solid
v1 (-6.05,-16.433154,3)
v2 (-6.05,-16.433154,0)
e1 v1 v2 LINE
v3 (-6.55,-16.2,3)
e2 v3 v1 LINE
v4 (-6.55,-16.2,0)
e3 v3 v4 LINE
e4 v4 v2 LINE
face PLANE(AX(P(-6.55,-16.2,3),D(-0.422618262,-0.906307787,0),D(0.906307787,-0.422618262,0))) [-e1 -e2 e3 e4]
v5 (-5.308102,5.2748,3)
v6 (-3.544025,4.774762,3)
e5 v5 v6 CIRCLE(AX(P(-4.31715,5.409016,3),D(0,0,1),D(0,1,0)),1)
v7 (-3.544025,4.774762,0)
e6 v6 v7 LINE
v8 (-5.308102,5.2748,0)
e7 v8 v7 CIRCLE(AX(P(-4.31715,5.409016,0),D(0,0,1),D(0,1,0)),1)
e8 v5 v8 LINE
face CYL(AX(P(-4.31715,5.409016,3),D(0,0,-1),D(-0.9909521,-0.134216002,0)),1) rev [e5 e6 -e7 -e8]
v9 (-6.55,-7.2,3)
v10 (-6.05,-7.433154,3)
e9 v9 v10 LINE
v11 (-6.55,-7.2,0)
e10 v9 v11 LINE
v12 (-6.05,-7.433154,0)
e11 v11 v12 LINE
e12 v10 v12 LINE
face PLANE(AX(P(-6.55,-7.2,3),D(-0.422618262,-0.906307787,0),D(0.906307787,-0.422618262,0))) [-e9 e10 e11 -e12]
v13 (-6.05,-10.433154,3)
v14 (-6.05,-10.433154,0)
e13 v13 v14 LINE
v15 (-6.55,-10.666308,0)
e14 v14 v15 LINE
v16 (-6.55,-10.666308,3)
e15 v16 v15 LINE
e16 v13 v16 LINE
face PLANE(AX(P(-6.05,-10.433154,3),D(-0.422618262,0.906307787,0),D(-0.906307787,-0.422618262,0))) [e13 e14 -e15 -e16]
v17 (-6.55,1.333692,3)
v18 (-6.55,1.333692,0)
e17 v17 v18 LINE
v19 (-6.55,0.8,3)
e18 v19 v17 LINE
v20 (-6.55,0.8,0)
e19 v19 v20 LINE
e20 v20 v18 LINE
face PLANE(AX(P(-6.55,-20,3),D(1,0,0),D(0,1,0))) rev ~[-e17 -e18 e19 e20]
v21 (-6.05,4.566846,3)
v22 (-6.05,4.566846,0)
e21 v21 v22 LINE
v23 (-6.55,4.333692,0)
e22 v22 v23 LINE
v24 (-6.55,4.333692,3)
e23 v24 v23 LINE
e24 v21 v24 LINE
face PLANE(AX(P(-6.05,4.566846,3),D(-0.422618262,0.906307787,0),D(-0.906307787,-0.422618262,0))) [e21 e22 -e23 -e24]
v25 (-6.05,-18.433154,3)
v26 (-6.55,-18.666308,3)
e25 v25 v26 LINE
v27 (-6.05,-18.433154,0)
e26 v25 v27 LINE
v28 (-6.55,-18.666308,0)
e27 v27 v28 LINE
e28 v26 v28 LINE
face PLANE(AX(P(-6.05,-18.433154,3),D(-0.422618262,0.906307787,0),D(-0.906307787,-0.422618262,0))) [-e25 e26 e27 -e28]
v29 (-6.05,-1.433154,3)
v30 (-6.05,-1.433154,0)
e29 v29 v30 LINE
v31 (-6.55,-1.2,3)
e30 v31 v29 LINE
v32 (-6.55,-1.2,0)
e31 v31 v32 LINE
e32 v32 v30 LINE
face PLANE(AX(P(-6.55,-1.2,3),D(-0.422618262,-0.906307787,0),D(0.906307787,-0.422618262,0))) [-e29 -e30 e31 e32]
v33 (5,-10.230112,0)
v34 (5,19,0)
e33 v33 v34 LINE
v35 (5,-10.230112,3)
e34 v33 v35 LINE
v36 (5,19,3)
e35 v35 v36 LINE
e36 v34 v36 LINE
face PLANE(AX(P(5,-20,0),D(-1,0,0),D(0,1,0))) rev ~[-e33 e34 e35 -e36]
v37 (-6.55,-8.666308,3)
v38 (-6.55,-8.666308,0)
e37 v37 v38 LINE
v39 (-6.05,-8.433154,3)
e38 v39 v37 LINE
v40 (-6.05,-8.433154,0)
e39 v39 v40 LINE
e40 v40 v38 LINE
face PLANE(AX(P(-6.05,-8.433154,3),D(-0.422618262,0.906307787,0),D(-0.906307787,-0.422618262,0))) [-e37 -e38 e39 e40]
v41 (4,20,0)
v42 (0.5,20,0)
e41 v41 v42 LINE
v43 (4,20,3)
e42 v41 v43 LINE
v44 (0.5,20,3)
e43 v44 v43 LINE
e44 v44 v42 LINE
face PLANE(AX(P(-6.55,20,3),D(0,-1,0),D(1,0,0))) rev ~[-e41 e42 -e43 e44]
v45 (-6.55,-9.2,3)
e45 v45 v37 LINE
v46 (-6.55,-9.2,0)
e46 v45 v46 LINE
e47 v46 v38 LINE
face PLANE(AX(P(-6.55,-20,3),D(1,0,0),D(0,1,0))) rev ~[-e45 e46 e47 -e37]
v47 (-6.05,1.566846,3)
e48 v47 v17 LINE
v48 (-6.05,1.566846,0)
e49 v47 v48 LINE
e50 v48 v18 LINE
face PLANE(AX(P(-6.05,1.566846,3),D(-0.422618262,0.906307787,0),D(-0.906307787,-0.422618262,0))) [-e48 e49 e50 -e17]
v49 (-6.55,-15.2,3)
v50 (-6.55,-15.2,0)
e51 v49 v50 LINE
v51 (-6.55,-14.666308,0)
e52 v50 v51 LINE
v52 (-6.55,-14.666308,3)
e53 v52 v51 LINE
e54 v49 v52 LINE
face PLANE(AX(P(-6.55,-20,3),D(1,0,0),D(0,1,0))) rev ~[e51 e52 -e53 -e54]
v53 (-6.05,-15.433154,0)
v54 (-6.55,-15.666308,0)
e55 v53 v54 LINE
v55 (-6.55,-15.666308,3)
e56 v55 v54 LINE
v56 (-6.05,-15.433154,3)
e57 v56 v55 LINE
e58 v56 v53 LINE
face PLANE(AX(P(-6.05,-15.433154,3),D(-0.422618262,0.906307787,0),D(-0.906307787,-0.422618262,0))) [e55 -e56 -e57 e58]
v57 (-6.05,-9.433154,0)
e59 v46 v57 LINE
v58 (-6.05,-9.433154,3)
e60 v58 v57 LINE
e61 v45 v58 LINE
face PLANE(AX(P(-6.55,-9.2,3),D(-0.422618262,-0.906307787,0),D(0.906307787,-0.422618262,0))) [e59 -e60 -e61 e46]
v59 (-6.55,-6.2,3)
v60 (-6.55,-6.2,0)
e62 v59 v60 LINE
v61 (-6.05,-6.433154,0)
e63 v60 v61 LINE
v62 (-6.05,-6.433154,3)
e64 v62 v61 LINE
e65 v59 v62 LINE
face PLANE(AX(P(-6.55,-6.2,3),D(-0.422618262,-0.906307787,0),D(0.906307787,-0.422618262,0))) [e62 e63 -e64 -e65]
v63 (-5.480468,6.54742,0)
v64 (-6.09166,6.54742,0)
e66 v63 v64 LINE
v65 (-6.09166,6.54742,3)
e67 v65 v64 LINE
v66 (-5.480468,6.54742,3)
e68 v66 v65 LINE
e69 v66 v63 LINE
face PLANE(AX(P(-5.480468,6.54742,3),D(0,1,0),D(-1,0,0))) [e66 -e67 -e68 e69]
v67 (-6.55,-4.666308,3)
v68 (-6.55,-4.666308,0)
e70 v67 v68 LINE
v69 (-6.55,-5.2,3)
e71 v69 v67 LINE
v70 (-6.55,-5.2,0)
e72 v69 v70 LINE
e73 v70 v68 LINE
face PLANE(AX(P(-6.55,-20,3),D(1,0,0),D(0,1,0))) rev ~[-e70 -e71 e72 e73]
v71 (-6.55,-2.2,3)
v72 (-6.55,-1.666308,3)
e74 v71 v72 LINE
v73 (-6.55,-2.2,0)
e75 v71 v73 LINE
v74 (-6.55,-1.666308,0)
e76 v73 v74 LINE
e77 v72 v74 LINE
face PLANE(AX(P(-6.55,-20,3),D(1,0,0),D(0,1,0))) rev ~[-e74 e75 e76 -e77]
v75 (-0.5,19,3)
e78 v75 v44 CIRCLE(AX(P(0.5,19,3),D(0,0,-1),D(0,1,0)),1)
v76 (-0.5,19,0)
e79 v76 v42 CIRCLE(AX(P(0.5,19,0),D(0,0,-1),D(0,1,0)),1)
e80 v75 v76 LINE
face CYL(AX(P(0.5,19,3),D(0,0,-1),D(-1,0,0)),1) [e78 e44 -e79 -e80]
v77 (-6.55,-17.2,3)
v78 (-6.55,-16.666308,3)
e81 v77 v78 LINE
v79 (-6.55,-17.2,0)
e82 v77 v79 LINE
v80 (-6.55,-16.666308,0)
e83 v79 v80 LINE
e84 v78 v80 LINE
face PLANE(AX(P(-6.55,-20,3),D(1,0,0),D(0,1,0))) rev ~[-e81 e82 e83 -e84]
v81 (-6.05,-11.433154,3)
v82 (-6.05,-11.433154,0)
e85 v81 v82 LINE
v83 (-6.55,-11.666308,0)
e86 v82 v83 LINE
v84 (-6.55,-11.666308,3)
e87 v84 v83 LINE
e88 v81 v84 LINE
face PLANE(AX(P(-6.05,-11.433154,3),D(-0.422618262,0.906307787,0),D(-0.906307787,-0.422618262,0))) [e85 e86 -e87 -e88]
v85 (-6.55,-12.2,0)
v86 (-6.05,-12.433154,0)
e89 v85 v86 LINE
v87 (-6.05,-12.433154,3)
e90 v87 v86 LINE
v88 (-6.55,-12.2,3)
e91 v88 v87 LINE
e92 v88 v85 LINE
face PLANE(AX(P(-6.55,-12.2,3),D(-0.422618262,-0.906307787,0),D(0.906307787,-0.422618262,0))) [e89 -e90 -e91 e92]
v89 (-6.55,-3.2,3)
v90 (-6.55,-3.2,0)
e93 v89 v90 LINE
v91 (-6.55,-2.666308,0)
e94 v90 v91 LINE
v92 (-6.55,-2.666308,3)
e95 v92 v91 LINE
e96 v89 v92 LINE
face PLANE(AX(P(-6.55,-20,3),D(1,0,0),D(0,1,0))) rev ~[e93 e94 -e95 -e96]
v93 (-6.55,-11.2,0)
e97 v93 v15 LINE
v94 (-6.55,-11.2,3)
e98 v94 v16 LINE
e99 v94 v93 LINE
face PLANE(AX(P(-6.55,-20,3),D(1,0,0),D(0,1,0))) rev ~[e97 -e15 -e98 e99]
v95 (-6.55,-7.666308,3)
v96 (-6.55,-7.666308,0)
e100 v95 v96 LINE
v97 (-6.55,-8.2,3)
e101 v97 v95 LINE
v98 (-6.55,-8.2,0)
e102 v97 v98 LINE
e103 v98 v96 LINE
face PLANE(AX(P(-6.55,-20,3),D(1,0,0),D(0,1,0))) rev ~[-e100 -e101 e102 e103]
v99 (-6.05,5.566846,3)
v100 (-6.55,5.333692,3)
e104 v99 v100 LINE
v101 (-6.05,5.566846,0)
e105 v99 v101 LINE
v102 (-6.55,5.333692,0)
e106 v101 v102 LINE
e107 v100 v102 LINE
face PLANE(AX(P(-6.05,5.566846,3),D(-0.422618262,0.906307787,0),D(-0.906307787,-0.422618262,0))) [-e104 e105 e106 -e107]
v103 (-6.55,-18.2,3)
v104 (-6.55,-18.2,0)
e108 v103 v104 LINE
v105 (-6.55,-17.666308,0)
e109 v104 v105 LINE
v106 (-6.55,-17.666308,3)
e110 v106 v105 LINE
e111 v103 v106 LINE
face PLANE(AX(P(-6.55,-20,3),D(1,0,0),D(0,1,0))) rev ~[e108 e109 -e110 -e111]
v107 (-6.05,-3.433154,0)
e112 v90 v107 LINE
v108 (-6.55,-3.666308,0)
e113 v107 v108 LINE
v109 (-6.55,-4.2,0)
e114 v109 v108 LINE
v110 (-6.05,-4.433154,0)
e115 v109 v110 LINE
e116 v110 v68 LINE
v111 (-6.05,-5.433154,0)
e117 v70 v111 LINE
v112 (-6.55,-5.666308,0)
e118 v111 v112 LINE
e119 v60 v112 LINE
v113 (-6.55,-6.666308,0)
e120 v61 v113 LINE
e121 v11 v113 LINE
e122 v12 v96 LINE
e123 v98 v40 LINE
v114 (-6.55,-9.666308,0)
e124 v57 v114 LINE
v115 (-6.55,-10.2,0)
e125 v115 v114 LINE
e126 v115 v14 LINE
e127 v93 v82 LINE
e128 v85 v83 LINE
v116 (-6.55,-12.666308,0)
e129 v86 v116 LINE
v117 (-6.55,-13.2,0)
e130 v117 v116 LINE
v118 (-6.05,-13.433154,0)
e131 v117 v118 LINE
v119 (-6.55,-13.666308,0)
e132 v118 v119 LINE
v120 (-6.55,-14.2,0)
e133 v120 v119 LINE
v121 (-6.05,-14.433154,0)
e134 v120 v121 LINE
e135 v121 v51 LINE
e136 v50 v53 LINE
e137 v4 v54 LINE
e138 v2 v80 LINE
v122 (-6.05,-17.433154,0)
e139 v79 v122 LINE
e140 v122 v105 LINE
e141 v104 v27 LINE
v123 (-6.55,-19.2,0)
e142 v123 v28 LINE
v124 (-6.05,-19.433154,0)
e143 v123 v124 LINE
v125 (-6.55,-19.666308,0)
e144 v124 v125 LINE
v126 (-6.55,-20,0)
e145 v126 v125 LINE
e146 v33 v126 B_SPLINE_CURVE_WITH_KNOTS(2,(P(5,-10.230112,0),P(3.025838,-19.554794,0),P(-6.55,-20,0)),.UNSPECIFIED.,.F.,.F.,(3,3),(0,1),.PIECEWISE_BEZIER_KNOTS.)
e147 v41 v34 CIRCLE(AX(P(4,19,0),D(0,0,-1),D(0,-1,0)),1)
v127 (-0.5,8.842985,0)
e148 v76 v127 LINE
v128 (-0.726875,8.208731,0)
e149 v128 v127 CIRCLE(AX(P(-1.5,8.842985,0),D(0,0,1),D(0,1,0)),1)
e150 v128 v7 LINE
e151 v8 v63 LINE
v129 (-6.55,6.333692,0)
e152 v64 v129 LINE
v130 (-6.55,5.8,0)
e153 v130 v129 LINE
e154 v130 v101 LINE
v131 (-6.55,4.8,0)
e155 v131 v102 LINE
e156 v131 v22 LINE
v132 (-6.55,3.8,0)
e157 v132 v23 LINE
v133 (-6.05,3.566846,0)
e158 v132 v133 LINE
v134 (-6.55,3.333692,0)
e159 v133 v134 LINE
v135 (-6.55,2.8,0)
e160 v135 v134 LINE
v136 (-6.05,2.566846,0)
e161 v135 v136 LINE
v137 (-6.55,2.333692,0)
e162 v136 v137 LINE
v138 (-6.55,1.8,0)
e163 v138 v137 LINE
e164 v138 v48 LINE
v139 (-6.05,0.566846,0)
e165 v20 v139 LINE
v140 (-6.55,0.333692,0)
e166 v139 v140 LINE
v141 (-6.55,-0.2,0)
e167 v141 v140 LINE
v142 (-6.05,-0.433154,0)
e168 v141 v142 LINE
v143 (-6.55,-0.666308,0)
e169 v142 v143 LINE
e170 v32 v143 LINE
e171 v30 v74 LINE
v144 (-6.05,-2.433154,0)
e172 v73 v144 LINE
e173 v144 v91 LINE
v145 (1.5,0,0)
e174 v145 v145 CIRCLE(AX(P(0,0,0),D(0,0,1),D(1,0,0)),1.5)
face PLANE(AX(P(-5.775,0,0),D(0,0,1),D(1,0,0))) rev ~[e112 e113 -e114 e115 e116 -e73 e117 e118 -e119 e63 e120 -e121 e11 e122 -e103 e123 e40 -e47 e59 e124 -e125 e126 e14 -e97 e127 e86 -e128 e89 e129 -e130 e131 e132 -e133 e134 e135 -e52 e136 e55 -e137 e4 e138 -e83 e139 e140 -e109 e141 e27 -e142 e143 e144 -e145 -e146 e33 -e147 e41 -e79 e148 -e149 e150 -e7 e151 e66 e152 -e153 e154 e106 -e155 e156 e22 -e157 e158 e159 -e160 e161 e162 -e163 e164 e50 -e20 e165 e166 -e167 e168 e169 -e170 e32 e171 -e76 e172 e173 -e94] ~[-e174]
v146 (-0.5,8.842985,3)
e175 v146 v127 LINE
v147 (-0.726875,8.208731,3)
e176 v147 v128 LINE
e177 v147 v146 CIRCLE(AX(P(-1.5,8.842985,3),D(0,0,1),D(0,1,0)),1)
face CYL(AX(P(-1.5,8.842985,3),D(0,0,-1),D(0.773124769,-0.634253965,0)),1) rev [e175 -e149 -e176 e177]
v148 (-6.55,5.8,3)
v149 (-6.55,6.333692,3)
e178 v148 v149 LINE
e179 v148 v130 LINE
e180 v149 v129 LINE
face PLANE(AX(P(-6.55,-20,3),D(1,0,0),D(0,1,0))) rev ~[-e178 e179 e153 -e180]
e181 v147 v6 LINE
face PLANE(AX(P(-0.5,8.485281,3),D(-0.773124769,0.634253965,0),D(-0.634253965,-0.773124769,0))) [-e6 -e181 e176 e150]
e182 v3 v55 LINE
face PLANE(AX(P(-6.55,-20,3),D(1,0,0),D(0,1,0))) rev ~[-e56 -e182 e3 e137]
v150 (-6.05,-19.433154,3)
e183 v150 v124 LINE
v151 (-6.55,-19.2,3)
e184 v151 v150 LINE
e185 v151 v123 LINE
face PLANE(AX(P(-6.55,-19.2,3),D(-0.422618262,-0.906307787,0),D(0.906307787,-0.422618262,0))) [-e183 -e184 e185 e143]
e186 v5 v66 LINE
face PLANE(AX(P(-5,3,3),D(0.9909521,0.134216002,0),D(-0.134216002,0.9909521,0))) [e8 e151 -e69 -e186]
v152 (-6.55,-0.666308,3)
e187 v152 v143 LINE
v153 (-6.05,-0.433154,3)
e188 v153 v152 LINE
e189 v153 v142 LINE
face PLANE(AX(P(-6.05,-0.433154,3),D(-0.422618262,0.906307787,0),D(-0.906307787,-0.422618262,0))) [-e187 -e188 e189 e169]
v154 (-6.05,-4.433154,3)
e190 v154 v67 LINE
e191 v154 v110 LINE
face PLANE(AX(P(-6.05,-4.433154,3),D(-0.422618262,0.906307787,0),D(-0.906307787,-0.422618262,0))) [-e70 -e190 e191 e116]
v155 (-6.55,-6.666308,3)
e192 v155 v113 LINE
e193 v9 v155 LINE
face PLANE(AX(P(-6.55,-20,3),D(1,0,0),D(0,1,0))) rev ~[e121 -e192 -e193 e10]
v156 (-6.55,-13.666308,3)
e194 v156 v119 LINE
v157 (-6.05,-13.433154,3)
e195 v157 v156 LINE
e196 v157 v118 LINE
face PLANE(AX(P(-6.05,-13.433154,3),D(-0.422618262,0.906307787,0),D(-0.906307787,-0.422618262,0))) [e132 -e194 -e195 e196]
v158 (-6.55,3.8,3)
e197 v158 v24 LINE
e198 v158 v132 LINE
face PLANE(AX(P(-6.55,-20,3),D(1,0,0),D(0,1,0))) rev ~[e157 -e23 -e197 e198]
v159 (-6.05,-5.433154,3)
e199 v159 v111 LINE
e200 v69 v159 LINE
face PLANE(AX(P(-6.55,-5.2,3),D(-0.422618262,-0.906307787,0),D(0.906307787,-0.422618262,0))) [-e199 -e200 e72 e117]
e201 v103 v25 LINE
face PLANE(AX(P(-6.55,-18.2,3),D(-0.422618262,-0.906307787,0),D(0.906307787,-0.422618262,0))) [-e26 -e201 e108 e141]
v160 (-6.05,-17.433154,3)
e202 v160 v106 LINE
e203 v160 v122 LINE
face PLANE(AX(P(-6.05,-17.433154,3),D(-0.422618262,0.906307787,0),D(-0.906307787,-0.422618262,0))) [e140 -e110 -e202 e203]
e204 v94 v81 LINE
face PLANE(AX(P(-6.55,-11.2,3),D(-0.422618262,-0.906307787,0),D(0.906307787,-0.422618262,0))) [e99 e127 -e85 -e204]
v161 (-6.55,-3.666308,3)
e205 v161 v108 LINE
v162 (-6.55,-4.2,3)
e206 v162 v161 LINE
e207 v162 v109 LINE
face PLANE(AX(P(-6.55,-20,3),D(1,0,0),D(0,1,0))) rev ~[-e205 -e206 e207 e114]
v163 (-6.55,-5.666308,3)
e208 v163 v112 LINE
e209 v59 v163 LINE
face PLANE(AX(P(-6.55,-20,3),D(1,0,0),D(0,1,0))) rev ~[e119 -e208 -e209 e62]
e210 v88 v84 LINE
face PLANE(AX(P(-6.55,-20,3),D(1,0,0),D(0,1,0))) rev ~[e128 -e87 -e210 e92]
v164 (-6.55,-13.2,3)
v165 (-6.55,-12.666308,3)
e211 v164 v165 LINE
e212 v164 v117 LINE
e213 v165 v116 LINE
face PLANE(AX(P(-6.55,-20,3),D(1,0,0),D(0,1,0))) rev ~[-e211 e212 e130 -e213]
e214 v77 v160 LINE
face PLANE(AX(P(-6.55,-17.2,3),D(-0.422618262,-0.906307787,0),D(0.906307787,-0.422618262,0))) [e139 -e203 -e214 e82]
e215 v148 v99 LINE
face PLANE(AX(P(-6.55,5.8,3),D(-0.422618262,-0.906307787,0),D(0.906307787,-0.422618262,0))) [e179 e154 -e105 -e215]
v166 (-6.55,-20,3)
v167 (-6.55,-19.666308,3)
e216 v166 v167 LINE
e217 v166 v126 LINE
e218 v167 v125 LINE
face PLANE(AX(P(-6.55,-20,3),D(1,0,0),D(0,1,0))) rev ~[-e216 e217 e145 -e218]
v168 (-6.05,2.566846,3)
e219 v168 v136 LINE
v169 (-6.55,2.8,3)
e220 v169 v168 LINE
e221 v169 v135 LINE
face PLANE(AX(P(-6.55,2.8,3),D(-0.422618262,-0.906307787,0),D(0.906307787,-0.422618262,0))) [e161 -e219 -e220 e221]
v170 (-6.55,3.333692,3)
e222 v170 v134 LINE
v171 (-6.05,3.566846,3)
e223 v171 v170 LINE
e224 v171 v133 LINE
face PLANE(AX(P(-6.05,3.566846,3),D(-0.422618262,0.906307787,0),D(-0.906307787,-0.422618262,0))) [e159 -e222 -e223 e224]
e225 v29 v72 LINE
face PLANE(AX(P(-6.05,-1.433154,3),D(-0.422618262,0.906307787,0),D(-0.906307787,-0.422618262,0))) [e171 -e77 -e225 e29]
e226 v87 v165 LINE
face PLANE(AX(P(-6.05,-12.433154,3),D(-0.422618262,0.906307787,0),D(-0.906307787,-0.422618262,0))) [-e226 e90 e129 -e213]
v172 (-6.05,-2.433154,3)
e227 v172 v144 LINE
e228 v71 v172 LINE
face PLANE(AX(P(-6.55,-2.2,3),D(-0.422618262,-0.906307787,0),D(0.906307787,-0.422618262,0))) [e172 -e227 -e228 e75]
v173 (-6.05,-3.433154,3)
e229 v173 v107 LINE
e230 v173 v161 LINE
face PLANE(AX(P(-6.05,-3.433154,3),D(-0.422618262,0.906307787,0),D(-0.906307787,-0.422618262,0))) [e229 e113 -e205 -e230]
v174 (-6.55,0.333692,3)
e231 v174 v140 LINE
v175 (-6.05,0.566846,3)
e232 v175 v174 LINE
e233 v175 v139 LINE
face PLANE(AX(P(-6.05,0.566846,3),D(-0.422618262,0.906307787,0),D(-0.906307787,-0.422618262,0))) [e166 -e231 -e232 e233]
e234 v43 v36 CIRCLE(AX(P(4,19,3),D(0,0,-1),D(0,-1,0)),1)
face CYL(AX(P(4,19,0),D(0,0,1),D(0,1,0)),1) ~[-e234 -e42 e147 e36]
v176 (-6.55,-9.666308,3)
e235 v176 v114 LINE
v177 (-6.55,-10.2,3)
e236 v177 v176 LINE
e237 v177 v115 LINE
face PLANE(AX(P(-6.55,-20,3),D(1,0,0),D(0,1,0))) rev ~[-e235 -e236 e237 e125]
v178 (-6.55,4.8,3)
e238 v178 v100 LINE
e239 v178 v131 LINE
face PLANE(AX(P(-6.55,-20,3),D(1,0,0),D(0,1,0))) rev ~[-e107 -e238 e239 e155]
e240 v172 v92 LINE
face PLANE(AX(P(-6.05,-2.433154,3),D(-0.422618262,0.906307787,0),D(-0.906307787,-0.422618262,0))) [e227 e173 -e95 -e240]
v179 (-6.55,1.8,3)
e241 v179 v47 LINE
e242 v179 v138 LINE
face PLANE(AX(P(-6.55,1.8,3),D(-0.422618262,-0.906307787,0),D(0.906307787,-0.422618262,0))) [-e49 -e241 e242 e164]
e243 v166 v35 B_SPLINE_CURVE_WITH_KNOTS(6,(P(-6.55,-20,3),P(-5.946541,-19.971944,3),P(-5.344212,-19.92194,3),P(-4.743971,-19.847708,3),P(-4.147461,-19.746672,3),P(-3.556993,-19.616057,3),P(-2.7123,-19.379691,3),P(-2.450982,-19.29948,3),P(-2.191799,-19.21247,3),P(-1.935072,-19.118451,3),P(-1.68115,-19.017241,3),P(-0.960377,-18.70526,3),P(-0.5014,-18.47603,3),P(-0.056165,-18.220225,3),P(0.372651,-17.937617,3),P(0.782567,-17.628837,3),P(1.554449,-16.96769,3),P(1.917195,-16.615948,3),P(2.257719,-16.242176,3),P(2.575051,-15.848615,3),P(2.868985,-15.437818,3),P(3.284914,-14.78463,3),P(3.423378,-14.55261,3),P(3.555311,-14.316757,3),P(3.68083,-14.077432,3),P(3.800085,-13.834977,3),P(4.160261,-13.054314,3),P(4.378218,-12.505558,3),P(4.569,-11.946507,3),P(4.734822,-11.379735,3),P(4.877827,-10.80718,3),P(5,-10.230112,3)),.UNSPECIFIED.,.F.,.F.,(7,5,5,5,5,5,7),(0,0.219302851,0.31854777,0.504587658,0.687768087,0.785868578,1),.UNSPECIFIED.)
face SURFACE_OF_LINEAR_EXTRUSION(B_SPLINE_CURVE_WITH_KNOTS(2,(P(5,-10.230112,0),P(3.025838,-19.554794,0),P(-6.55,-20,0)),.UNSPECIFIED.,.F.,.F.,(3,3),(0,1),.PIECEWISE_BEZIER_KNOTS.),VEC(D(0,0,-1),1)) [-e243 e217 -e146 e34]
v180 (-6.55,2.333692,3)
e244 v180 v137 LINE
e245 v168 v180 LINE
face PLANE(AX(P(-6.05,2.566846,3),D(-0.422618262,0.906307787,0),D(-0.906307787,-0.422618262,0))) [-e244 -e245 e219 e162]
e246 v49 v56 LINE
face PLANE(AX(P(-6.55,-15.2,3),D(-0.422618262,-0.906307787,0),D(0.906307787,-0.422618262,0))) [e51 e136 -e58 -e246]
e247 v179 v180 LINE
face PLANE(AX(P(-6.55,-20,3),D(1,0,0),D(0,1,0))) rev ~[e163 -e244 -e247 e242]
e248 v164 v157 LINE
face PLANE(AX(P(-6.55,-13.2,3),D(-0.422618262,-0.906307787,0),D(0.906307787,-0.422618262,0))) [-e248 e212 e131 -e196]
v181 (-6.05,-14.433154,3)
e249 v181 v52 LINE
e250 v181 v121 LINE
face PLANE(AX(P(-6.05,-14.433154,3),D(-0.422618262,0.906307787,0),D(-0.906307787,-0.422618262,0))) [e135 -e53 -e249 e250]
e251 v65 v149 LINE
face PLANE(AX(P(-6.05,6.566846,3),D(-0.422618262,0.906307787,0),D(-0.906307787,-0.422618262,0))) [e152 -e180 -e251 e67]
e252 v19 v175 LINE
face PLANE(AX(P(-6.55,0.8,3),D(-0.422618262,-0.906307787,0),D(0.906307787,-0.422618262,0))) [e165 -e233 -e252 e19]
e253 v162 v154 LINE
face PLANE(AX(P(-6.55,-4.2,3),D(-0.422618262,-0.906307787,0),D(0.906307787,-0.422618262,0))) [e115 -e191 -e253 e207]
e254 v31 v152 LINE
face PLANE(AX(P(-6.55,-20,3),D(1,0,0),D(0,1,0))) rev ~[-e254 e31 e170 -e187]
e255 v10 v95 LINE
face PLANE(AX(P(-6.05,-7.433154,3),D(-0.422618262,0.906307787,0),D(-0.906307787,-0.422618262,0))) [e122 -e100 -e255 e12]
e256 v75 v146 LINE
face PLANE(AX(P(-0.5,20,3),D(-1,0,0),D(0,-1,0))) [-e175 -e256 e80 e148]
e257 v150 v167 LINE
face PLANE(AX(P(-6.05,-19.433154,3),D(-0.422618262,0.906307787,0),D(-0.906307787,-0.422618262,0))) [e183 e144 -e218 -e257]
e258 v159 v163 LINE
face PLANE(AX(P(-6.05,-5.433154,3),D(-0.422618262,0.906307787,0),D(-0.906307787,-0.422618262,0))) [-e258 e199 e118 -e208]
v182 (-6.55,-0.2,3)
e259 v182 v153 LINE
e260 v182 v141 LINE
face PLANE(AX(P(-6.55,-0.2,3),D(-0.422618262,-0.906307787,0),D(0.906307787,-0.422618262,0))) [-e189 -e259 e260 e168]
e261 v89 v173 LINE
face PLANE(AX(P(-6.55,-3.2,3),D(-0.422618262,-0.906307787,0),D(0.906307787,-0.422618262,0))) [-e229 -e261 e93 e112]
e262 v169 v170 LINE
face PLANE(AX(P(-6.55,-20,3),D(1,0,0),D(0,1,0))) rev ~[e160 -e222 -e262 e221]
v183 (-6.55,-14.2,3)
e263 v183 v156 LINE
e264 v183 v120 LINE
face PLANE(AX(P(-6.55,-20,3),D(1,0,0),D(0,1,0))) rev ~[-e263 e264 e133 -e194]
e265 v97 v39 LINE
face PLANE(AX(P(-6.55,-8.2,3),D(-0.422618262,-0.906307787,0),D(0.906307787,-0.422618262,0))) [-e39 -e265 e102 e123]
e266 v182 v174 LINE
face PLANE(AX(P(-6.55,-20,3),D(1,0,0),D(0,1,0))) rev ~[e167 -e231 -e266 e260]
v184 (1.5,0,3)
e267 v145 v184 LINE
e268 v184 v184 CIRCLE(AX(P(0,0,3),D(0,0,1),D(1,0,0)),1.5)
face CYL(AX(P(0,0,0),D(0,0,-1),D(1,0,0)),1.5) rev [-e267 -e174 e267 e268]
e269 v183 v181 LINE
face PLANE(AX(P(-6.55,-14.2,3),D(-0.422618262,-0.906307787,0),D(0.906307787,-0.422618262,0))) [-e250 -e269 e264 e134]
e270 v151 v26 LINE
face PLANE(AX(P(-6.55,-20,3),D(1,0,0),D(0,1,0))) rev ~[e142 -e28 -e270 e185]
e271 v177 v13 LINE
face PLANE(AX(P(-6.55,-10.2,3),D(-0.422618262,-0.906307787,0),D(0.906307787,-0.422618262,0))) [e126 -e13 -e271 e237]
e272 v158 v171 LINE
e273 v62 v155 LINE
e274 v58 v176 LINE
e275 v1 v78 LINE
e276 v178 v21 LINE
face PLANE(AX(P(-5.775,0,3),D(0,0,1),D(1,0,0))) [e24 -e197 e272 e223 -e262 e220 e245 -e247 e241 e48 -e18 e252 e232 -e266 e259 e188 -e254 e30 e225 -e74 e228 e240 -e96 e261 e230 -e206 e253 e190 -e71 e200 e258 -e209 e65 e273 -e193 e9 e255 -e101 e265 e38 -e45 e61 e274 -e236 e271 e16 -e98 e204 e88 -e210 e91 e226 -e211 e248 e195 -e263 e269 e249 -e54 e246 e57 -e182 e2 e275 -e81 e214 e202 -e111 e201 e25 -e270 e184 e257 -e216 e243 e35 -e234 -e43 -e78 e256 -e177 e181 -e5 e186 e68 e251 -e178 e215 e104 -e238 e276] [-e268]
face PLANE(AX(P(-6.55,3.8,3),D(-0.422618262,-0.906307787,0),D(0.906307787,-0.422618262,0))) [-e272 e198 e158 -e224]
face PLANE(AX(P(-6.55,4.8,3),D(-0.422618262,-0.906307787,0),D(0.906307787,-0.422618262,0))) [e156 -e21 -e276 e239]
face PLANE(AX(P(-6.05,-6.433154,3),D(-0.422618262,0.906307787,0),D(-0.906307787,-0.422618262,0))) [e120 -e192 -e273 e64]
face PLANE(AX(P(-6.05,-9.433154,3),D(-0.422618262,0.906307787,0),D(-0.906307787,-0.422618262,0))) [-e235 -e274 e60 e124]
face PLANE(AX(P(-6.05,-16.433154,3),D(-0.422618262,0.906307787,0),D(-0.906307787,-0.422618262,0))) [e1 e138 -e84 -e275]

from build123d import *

# Parameters (mm, degrees)
SKETCH_1_W             = 10
SKETCH_1_H             = 40
SKETCH_1_R             = 1.5
EXTRUDE_1_DEPTH        = 3
SKETCH_2_W             = 1.55
SKETCH_2_H             = 40
EXTRUDE_2_DEPTH        = 3
CUT_EXTRUDE_1_DEPTH    = 3
PATTERN_LINEAR_1_COUNT = 40
PATTERN_LINEAR_1_PITCH = 1
CUT_EXTRUDE_2_DEPTH    = 10
FILLET_1_R             = 1
CUT_EXTRUDE_3_DEPTH    = 10
FILLET_2_R             = 1


with BuildPart() as part:
    # 草图1 → 凸台-拉伸1 (new body)
    with BuildSketch(Plane.XY):
        Rectangle(SKETCH_1_W, SKETCH_1_H)
        Circle(SKETCH_1_R, mode=Mode.SUBTRACT)
    extrude(amount=EXTRUDE_1_DEPTH)

    # 草图2 → 凸台-拉伸2 (add)
    with BuildSketch(Plane.XY.offset(3)):
        with Locations((-5.775, 0)):
            Rectangle(SKETCH_2_W, SKETCH_2_H)
    extrude(amount=-EXTRUDE_2_DEPTH)

    # 草图3 → 切除-拉伸1 (cut)
    with BuildSketch(Plane.XY.offset(3)):
        Polygon((-6.55, 19.8), (-6.05, 19.566846171), (-6.55, 19.333692342), align=None)
    cut_extrude_1 = extrude(amount=-CUT_EXTRUDE_1_DEPTH, mode=Mode.SUBTRACT)

    # 阵列(线性)1: 切除-拉伸1 ×40
    with Locations(*[(0, -i * PATTERN_LINEAR_1_PITCH, 0) for i in range(1, PATTERN_LINEAR_1_COUNT)]):
        add(cut_extrude_1, mode=Mode.SUBTRACT)

    # 草图5 → 切除-拉伸2 (cut)
    with BuildSketch(Plane.XY.offset(3)):
        Polygon((-0.5, 20), (-0.5, 8.485281374), (-5, 3), (-5.480467746, 6.547419937), (-7.040068743, 6.547419937), (-7.040068743, 9.445607815), (-8.18437591, 20), align=None)
    extrude(amount=-CUT_EXTRUDE_2_DEPTH, mode=Mode.SUBTRACT)

    # 圆角1
    fillet_1_edges = [part.edges().sort_by_distance(p)[0] for p in [
        (-0.5, 8.485281374, 1.5),
        (-5, 3, 1.5),
    ]]
    fillet(fillet_1_edges, radius=FILLET_1_R)

    # 草图7 → 切除-拉伸3 (cut)
    with BuildSketch(Plane(origin=(0, 0, 0), x_dir=(-1, 0, 0), z_dir=(0, 0, -1))):
        with BuildLine():
            Line((6.55, -20), (-5.418170251, -22.566873238))
            Line((-5.418170251, -22.566873238), (-10.062870934, -14.075772272))
            Line((-10.062870934, -14.075772272), (-5, -10.23011241))
            add(Edge.make_bspline(
                [(-5, -10.23011241), (-3.025837533, -19.554793567), (6.55, -20)],
                knots=[0, 0, 0, 1, 1, 1], degree=2))
        make_face()
    extrude(amount=-CUT_EXTRUDE_3_DEPTH, mode=Mode.SUBTRACT)

    # 圆角2
    fillet_2_edges = [part.edges().sort_by_distance(p)[0] for p in [
        (-0.5, 20, 1.5),
        (5, 20, 1.5),
    ]]
    fillet(fillet_2_edges, radius=FILLET_2_R)


solid = part.part
